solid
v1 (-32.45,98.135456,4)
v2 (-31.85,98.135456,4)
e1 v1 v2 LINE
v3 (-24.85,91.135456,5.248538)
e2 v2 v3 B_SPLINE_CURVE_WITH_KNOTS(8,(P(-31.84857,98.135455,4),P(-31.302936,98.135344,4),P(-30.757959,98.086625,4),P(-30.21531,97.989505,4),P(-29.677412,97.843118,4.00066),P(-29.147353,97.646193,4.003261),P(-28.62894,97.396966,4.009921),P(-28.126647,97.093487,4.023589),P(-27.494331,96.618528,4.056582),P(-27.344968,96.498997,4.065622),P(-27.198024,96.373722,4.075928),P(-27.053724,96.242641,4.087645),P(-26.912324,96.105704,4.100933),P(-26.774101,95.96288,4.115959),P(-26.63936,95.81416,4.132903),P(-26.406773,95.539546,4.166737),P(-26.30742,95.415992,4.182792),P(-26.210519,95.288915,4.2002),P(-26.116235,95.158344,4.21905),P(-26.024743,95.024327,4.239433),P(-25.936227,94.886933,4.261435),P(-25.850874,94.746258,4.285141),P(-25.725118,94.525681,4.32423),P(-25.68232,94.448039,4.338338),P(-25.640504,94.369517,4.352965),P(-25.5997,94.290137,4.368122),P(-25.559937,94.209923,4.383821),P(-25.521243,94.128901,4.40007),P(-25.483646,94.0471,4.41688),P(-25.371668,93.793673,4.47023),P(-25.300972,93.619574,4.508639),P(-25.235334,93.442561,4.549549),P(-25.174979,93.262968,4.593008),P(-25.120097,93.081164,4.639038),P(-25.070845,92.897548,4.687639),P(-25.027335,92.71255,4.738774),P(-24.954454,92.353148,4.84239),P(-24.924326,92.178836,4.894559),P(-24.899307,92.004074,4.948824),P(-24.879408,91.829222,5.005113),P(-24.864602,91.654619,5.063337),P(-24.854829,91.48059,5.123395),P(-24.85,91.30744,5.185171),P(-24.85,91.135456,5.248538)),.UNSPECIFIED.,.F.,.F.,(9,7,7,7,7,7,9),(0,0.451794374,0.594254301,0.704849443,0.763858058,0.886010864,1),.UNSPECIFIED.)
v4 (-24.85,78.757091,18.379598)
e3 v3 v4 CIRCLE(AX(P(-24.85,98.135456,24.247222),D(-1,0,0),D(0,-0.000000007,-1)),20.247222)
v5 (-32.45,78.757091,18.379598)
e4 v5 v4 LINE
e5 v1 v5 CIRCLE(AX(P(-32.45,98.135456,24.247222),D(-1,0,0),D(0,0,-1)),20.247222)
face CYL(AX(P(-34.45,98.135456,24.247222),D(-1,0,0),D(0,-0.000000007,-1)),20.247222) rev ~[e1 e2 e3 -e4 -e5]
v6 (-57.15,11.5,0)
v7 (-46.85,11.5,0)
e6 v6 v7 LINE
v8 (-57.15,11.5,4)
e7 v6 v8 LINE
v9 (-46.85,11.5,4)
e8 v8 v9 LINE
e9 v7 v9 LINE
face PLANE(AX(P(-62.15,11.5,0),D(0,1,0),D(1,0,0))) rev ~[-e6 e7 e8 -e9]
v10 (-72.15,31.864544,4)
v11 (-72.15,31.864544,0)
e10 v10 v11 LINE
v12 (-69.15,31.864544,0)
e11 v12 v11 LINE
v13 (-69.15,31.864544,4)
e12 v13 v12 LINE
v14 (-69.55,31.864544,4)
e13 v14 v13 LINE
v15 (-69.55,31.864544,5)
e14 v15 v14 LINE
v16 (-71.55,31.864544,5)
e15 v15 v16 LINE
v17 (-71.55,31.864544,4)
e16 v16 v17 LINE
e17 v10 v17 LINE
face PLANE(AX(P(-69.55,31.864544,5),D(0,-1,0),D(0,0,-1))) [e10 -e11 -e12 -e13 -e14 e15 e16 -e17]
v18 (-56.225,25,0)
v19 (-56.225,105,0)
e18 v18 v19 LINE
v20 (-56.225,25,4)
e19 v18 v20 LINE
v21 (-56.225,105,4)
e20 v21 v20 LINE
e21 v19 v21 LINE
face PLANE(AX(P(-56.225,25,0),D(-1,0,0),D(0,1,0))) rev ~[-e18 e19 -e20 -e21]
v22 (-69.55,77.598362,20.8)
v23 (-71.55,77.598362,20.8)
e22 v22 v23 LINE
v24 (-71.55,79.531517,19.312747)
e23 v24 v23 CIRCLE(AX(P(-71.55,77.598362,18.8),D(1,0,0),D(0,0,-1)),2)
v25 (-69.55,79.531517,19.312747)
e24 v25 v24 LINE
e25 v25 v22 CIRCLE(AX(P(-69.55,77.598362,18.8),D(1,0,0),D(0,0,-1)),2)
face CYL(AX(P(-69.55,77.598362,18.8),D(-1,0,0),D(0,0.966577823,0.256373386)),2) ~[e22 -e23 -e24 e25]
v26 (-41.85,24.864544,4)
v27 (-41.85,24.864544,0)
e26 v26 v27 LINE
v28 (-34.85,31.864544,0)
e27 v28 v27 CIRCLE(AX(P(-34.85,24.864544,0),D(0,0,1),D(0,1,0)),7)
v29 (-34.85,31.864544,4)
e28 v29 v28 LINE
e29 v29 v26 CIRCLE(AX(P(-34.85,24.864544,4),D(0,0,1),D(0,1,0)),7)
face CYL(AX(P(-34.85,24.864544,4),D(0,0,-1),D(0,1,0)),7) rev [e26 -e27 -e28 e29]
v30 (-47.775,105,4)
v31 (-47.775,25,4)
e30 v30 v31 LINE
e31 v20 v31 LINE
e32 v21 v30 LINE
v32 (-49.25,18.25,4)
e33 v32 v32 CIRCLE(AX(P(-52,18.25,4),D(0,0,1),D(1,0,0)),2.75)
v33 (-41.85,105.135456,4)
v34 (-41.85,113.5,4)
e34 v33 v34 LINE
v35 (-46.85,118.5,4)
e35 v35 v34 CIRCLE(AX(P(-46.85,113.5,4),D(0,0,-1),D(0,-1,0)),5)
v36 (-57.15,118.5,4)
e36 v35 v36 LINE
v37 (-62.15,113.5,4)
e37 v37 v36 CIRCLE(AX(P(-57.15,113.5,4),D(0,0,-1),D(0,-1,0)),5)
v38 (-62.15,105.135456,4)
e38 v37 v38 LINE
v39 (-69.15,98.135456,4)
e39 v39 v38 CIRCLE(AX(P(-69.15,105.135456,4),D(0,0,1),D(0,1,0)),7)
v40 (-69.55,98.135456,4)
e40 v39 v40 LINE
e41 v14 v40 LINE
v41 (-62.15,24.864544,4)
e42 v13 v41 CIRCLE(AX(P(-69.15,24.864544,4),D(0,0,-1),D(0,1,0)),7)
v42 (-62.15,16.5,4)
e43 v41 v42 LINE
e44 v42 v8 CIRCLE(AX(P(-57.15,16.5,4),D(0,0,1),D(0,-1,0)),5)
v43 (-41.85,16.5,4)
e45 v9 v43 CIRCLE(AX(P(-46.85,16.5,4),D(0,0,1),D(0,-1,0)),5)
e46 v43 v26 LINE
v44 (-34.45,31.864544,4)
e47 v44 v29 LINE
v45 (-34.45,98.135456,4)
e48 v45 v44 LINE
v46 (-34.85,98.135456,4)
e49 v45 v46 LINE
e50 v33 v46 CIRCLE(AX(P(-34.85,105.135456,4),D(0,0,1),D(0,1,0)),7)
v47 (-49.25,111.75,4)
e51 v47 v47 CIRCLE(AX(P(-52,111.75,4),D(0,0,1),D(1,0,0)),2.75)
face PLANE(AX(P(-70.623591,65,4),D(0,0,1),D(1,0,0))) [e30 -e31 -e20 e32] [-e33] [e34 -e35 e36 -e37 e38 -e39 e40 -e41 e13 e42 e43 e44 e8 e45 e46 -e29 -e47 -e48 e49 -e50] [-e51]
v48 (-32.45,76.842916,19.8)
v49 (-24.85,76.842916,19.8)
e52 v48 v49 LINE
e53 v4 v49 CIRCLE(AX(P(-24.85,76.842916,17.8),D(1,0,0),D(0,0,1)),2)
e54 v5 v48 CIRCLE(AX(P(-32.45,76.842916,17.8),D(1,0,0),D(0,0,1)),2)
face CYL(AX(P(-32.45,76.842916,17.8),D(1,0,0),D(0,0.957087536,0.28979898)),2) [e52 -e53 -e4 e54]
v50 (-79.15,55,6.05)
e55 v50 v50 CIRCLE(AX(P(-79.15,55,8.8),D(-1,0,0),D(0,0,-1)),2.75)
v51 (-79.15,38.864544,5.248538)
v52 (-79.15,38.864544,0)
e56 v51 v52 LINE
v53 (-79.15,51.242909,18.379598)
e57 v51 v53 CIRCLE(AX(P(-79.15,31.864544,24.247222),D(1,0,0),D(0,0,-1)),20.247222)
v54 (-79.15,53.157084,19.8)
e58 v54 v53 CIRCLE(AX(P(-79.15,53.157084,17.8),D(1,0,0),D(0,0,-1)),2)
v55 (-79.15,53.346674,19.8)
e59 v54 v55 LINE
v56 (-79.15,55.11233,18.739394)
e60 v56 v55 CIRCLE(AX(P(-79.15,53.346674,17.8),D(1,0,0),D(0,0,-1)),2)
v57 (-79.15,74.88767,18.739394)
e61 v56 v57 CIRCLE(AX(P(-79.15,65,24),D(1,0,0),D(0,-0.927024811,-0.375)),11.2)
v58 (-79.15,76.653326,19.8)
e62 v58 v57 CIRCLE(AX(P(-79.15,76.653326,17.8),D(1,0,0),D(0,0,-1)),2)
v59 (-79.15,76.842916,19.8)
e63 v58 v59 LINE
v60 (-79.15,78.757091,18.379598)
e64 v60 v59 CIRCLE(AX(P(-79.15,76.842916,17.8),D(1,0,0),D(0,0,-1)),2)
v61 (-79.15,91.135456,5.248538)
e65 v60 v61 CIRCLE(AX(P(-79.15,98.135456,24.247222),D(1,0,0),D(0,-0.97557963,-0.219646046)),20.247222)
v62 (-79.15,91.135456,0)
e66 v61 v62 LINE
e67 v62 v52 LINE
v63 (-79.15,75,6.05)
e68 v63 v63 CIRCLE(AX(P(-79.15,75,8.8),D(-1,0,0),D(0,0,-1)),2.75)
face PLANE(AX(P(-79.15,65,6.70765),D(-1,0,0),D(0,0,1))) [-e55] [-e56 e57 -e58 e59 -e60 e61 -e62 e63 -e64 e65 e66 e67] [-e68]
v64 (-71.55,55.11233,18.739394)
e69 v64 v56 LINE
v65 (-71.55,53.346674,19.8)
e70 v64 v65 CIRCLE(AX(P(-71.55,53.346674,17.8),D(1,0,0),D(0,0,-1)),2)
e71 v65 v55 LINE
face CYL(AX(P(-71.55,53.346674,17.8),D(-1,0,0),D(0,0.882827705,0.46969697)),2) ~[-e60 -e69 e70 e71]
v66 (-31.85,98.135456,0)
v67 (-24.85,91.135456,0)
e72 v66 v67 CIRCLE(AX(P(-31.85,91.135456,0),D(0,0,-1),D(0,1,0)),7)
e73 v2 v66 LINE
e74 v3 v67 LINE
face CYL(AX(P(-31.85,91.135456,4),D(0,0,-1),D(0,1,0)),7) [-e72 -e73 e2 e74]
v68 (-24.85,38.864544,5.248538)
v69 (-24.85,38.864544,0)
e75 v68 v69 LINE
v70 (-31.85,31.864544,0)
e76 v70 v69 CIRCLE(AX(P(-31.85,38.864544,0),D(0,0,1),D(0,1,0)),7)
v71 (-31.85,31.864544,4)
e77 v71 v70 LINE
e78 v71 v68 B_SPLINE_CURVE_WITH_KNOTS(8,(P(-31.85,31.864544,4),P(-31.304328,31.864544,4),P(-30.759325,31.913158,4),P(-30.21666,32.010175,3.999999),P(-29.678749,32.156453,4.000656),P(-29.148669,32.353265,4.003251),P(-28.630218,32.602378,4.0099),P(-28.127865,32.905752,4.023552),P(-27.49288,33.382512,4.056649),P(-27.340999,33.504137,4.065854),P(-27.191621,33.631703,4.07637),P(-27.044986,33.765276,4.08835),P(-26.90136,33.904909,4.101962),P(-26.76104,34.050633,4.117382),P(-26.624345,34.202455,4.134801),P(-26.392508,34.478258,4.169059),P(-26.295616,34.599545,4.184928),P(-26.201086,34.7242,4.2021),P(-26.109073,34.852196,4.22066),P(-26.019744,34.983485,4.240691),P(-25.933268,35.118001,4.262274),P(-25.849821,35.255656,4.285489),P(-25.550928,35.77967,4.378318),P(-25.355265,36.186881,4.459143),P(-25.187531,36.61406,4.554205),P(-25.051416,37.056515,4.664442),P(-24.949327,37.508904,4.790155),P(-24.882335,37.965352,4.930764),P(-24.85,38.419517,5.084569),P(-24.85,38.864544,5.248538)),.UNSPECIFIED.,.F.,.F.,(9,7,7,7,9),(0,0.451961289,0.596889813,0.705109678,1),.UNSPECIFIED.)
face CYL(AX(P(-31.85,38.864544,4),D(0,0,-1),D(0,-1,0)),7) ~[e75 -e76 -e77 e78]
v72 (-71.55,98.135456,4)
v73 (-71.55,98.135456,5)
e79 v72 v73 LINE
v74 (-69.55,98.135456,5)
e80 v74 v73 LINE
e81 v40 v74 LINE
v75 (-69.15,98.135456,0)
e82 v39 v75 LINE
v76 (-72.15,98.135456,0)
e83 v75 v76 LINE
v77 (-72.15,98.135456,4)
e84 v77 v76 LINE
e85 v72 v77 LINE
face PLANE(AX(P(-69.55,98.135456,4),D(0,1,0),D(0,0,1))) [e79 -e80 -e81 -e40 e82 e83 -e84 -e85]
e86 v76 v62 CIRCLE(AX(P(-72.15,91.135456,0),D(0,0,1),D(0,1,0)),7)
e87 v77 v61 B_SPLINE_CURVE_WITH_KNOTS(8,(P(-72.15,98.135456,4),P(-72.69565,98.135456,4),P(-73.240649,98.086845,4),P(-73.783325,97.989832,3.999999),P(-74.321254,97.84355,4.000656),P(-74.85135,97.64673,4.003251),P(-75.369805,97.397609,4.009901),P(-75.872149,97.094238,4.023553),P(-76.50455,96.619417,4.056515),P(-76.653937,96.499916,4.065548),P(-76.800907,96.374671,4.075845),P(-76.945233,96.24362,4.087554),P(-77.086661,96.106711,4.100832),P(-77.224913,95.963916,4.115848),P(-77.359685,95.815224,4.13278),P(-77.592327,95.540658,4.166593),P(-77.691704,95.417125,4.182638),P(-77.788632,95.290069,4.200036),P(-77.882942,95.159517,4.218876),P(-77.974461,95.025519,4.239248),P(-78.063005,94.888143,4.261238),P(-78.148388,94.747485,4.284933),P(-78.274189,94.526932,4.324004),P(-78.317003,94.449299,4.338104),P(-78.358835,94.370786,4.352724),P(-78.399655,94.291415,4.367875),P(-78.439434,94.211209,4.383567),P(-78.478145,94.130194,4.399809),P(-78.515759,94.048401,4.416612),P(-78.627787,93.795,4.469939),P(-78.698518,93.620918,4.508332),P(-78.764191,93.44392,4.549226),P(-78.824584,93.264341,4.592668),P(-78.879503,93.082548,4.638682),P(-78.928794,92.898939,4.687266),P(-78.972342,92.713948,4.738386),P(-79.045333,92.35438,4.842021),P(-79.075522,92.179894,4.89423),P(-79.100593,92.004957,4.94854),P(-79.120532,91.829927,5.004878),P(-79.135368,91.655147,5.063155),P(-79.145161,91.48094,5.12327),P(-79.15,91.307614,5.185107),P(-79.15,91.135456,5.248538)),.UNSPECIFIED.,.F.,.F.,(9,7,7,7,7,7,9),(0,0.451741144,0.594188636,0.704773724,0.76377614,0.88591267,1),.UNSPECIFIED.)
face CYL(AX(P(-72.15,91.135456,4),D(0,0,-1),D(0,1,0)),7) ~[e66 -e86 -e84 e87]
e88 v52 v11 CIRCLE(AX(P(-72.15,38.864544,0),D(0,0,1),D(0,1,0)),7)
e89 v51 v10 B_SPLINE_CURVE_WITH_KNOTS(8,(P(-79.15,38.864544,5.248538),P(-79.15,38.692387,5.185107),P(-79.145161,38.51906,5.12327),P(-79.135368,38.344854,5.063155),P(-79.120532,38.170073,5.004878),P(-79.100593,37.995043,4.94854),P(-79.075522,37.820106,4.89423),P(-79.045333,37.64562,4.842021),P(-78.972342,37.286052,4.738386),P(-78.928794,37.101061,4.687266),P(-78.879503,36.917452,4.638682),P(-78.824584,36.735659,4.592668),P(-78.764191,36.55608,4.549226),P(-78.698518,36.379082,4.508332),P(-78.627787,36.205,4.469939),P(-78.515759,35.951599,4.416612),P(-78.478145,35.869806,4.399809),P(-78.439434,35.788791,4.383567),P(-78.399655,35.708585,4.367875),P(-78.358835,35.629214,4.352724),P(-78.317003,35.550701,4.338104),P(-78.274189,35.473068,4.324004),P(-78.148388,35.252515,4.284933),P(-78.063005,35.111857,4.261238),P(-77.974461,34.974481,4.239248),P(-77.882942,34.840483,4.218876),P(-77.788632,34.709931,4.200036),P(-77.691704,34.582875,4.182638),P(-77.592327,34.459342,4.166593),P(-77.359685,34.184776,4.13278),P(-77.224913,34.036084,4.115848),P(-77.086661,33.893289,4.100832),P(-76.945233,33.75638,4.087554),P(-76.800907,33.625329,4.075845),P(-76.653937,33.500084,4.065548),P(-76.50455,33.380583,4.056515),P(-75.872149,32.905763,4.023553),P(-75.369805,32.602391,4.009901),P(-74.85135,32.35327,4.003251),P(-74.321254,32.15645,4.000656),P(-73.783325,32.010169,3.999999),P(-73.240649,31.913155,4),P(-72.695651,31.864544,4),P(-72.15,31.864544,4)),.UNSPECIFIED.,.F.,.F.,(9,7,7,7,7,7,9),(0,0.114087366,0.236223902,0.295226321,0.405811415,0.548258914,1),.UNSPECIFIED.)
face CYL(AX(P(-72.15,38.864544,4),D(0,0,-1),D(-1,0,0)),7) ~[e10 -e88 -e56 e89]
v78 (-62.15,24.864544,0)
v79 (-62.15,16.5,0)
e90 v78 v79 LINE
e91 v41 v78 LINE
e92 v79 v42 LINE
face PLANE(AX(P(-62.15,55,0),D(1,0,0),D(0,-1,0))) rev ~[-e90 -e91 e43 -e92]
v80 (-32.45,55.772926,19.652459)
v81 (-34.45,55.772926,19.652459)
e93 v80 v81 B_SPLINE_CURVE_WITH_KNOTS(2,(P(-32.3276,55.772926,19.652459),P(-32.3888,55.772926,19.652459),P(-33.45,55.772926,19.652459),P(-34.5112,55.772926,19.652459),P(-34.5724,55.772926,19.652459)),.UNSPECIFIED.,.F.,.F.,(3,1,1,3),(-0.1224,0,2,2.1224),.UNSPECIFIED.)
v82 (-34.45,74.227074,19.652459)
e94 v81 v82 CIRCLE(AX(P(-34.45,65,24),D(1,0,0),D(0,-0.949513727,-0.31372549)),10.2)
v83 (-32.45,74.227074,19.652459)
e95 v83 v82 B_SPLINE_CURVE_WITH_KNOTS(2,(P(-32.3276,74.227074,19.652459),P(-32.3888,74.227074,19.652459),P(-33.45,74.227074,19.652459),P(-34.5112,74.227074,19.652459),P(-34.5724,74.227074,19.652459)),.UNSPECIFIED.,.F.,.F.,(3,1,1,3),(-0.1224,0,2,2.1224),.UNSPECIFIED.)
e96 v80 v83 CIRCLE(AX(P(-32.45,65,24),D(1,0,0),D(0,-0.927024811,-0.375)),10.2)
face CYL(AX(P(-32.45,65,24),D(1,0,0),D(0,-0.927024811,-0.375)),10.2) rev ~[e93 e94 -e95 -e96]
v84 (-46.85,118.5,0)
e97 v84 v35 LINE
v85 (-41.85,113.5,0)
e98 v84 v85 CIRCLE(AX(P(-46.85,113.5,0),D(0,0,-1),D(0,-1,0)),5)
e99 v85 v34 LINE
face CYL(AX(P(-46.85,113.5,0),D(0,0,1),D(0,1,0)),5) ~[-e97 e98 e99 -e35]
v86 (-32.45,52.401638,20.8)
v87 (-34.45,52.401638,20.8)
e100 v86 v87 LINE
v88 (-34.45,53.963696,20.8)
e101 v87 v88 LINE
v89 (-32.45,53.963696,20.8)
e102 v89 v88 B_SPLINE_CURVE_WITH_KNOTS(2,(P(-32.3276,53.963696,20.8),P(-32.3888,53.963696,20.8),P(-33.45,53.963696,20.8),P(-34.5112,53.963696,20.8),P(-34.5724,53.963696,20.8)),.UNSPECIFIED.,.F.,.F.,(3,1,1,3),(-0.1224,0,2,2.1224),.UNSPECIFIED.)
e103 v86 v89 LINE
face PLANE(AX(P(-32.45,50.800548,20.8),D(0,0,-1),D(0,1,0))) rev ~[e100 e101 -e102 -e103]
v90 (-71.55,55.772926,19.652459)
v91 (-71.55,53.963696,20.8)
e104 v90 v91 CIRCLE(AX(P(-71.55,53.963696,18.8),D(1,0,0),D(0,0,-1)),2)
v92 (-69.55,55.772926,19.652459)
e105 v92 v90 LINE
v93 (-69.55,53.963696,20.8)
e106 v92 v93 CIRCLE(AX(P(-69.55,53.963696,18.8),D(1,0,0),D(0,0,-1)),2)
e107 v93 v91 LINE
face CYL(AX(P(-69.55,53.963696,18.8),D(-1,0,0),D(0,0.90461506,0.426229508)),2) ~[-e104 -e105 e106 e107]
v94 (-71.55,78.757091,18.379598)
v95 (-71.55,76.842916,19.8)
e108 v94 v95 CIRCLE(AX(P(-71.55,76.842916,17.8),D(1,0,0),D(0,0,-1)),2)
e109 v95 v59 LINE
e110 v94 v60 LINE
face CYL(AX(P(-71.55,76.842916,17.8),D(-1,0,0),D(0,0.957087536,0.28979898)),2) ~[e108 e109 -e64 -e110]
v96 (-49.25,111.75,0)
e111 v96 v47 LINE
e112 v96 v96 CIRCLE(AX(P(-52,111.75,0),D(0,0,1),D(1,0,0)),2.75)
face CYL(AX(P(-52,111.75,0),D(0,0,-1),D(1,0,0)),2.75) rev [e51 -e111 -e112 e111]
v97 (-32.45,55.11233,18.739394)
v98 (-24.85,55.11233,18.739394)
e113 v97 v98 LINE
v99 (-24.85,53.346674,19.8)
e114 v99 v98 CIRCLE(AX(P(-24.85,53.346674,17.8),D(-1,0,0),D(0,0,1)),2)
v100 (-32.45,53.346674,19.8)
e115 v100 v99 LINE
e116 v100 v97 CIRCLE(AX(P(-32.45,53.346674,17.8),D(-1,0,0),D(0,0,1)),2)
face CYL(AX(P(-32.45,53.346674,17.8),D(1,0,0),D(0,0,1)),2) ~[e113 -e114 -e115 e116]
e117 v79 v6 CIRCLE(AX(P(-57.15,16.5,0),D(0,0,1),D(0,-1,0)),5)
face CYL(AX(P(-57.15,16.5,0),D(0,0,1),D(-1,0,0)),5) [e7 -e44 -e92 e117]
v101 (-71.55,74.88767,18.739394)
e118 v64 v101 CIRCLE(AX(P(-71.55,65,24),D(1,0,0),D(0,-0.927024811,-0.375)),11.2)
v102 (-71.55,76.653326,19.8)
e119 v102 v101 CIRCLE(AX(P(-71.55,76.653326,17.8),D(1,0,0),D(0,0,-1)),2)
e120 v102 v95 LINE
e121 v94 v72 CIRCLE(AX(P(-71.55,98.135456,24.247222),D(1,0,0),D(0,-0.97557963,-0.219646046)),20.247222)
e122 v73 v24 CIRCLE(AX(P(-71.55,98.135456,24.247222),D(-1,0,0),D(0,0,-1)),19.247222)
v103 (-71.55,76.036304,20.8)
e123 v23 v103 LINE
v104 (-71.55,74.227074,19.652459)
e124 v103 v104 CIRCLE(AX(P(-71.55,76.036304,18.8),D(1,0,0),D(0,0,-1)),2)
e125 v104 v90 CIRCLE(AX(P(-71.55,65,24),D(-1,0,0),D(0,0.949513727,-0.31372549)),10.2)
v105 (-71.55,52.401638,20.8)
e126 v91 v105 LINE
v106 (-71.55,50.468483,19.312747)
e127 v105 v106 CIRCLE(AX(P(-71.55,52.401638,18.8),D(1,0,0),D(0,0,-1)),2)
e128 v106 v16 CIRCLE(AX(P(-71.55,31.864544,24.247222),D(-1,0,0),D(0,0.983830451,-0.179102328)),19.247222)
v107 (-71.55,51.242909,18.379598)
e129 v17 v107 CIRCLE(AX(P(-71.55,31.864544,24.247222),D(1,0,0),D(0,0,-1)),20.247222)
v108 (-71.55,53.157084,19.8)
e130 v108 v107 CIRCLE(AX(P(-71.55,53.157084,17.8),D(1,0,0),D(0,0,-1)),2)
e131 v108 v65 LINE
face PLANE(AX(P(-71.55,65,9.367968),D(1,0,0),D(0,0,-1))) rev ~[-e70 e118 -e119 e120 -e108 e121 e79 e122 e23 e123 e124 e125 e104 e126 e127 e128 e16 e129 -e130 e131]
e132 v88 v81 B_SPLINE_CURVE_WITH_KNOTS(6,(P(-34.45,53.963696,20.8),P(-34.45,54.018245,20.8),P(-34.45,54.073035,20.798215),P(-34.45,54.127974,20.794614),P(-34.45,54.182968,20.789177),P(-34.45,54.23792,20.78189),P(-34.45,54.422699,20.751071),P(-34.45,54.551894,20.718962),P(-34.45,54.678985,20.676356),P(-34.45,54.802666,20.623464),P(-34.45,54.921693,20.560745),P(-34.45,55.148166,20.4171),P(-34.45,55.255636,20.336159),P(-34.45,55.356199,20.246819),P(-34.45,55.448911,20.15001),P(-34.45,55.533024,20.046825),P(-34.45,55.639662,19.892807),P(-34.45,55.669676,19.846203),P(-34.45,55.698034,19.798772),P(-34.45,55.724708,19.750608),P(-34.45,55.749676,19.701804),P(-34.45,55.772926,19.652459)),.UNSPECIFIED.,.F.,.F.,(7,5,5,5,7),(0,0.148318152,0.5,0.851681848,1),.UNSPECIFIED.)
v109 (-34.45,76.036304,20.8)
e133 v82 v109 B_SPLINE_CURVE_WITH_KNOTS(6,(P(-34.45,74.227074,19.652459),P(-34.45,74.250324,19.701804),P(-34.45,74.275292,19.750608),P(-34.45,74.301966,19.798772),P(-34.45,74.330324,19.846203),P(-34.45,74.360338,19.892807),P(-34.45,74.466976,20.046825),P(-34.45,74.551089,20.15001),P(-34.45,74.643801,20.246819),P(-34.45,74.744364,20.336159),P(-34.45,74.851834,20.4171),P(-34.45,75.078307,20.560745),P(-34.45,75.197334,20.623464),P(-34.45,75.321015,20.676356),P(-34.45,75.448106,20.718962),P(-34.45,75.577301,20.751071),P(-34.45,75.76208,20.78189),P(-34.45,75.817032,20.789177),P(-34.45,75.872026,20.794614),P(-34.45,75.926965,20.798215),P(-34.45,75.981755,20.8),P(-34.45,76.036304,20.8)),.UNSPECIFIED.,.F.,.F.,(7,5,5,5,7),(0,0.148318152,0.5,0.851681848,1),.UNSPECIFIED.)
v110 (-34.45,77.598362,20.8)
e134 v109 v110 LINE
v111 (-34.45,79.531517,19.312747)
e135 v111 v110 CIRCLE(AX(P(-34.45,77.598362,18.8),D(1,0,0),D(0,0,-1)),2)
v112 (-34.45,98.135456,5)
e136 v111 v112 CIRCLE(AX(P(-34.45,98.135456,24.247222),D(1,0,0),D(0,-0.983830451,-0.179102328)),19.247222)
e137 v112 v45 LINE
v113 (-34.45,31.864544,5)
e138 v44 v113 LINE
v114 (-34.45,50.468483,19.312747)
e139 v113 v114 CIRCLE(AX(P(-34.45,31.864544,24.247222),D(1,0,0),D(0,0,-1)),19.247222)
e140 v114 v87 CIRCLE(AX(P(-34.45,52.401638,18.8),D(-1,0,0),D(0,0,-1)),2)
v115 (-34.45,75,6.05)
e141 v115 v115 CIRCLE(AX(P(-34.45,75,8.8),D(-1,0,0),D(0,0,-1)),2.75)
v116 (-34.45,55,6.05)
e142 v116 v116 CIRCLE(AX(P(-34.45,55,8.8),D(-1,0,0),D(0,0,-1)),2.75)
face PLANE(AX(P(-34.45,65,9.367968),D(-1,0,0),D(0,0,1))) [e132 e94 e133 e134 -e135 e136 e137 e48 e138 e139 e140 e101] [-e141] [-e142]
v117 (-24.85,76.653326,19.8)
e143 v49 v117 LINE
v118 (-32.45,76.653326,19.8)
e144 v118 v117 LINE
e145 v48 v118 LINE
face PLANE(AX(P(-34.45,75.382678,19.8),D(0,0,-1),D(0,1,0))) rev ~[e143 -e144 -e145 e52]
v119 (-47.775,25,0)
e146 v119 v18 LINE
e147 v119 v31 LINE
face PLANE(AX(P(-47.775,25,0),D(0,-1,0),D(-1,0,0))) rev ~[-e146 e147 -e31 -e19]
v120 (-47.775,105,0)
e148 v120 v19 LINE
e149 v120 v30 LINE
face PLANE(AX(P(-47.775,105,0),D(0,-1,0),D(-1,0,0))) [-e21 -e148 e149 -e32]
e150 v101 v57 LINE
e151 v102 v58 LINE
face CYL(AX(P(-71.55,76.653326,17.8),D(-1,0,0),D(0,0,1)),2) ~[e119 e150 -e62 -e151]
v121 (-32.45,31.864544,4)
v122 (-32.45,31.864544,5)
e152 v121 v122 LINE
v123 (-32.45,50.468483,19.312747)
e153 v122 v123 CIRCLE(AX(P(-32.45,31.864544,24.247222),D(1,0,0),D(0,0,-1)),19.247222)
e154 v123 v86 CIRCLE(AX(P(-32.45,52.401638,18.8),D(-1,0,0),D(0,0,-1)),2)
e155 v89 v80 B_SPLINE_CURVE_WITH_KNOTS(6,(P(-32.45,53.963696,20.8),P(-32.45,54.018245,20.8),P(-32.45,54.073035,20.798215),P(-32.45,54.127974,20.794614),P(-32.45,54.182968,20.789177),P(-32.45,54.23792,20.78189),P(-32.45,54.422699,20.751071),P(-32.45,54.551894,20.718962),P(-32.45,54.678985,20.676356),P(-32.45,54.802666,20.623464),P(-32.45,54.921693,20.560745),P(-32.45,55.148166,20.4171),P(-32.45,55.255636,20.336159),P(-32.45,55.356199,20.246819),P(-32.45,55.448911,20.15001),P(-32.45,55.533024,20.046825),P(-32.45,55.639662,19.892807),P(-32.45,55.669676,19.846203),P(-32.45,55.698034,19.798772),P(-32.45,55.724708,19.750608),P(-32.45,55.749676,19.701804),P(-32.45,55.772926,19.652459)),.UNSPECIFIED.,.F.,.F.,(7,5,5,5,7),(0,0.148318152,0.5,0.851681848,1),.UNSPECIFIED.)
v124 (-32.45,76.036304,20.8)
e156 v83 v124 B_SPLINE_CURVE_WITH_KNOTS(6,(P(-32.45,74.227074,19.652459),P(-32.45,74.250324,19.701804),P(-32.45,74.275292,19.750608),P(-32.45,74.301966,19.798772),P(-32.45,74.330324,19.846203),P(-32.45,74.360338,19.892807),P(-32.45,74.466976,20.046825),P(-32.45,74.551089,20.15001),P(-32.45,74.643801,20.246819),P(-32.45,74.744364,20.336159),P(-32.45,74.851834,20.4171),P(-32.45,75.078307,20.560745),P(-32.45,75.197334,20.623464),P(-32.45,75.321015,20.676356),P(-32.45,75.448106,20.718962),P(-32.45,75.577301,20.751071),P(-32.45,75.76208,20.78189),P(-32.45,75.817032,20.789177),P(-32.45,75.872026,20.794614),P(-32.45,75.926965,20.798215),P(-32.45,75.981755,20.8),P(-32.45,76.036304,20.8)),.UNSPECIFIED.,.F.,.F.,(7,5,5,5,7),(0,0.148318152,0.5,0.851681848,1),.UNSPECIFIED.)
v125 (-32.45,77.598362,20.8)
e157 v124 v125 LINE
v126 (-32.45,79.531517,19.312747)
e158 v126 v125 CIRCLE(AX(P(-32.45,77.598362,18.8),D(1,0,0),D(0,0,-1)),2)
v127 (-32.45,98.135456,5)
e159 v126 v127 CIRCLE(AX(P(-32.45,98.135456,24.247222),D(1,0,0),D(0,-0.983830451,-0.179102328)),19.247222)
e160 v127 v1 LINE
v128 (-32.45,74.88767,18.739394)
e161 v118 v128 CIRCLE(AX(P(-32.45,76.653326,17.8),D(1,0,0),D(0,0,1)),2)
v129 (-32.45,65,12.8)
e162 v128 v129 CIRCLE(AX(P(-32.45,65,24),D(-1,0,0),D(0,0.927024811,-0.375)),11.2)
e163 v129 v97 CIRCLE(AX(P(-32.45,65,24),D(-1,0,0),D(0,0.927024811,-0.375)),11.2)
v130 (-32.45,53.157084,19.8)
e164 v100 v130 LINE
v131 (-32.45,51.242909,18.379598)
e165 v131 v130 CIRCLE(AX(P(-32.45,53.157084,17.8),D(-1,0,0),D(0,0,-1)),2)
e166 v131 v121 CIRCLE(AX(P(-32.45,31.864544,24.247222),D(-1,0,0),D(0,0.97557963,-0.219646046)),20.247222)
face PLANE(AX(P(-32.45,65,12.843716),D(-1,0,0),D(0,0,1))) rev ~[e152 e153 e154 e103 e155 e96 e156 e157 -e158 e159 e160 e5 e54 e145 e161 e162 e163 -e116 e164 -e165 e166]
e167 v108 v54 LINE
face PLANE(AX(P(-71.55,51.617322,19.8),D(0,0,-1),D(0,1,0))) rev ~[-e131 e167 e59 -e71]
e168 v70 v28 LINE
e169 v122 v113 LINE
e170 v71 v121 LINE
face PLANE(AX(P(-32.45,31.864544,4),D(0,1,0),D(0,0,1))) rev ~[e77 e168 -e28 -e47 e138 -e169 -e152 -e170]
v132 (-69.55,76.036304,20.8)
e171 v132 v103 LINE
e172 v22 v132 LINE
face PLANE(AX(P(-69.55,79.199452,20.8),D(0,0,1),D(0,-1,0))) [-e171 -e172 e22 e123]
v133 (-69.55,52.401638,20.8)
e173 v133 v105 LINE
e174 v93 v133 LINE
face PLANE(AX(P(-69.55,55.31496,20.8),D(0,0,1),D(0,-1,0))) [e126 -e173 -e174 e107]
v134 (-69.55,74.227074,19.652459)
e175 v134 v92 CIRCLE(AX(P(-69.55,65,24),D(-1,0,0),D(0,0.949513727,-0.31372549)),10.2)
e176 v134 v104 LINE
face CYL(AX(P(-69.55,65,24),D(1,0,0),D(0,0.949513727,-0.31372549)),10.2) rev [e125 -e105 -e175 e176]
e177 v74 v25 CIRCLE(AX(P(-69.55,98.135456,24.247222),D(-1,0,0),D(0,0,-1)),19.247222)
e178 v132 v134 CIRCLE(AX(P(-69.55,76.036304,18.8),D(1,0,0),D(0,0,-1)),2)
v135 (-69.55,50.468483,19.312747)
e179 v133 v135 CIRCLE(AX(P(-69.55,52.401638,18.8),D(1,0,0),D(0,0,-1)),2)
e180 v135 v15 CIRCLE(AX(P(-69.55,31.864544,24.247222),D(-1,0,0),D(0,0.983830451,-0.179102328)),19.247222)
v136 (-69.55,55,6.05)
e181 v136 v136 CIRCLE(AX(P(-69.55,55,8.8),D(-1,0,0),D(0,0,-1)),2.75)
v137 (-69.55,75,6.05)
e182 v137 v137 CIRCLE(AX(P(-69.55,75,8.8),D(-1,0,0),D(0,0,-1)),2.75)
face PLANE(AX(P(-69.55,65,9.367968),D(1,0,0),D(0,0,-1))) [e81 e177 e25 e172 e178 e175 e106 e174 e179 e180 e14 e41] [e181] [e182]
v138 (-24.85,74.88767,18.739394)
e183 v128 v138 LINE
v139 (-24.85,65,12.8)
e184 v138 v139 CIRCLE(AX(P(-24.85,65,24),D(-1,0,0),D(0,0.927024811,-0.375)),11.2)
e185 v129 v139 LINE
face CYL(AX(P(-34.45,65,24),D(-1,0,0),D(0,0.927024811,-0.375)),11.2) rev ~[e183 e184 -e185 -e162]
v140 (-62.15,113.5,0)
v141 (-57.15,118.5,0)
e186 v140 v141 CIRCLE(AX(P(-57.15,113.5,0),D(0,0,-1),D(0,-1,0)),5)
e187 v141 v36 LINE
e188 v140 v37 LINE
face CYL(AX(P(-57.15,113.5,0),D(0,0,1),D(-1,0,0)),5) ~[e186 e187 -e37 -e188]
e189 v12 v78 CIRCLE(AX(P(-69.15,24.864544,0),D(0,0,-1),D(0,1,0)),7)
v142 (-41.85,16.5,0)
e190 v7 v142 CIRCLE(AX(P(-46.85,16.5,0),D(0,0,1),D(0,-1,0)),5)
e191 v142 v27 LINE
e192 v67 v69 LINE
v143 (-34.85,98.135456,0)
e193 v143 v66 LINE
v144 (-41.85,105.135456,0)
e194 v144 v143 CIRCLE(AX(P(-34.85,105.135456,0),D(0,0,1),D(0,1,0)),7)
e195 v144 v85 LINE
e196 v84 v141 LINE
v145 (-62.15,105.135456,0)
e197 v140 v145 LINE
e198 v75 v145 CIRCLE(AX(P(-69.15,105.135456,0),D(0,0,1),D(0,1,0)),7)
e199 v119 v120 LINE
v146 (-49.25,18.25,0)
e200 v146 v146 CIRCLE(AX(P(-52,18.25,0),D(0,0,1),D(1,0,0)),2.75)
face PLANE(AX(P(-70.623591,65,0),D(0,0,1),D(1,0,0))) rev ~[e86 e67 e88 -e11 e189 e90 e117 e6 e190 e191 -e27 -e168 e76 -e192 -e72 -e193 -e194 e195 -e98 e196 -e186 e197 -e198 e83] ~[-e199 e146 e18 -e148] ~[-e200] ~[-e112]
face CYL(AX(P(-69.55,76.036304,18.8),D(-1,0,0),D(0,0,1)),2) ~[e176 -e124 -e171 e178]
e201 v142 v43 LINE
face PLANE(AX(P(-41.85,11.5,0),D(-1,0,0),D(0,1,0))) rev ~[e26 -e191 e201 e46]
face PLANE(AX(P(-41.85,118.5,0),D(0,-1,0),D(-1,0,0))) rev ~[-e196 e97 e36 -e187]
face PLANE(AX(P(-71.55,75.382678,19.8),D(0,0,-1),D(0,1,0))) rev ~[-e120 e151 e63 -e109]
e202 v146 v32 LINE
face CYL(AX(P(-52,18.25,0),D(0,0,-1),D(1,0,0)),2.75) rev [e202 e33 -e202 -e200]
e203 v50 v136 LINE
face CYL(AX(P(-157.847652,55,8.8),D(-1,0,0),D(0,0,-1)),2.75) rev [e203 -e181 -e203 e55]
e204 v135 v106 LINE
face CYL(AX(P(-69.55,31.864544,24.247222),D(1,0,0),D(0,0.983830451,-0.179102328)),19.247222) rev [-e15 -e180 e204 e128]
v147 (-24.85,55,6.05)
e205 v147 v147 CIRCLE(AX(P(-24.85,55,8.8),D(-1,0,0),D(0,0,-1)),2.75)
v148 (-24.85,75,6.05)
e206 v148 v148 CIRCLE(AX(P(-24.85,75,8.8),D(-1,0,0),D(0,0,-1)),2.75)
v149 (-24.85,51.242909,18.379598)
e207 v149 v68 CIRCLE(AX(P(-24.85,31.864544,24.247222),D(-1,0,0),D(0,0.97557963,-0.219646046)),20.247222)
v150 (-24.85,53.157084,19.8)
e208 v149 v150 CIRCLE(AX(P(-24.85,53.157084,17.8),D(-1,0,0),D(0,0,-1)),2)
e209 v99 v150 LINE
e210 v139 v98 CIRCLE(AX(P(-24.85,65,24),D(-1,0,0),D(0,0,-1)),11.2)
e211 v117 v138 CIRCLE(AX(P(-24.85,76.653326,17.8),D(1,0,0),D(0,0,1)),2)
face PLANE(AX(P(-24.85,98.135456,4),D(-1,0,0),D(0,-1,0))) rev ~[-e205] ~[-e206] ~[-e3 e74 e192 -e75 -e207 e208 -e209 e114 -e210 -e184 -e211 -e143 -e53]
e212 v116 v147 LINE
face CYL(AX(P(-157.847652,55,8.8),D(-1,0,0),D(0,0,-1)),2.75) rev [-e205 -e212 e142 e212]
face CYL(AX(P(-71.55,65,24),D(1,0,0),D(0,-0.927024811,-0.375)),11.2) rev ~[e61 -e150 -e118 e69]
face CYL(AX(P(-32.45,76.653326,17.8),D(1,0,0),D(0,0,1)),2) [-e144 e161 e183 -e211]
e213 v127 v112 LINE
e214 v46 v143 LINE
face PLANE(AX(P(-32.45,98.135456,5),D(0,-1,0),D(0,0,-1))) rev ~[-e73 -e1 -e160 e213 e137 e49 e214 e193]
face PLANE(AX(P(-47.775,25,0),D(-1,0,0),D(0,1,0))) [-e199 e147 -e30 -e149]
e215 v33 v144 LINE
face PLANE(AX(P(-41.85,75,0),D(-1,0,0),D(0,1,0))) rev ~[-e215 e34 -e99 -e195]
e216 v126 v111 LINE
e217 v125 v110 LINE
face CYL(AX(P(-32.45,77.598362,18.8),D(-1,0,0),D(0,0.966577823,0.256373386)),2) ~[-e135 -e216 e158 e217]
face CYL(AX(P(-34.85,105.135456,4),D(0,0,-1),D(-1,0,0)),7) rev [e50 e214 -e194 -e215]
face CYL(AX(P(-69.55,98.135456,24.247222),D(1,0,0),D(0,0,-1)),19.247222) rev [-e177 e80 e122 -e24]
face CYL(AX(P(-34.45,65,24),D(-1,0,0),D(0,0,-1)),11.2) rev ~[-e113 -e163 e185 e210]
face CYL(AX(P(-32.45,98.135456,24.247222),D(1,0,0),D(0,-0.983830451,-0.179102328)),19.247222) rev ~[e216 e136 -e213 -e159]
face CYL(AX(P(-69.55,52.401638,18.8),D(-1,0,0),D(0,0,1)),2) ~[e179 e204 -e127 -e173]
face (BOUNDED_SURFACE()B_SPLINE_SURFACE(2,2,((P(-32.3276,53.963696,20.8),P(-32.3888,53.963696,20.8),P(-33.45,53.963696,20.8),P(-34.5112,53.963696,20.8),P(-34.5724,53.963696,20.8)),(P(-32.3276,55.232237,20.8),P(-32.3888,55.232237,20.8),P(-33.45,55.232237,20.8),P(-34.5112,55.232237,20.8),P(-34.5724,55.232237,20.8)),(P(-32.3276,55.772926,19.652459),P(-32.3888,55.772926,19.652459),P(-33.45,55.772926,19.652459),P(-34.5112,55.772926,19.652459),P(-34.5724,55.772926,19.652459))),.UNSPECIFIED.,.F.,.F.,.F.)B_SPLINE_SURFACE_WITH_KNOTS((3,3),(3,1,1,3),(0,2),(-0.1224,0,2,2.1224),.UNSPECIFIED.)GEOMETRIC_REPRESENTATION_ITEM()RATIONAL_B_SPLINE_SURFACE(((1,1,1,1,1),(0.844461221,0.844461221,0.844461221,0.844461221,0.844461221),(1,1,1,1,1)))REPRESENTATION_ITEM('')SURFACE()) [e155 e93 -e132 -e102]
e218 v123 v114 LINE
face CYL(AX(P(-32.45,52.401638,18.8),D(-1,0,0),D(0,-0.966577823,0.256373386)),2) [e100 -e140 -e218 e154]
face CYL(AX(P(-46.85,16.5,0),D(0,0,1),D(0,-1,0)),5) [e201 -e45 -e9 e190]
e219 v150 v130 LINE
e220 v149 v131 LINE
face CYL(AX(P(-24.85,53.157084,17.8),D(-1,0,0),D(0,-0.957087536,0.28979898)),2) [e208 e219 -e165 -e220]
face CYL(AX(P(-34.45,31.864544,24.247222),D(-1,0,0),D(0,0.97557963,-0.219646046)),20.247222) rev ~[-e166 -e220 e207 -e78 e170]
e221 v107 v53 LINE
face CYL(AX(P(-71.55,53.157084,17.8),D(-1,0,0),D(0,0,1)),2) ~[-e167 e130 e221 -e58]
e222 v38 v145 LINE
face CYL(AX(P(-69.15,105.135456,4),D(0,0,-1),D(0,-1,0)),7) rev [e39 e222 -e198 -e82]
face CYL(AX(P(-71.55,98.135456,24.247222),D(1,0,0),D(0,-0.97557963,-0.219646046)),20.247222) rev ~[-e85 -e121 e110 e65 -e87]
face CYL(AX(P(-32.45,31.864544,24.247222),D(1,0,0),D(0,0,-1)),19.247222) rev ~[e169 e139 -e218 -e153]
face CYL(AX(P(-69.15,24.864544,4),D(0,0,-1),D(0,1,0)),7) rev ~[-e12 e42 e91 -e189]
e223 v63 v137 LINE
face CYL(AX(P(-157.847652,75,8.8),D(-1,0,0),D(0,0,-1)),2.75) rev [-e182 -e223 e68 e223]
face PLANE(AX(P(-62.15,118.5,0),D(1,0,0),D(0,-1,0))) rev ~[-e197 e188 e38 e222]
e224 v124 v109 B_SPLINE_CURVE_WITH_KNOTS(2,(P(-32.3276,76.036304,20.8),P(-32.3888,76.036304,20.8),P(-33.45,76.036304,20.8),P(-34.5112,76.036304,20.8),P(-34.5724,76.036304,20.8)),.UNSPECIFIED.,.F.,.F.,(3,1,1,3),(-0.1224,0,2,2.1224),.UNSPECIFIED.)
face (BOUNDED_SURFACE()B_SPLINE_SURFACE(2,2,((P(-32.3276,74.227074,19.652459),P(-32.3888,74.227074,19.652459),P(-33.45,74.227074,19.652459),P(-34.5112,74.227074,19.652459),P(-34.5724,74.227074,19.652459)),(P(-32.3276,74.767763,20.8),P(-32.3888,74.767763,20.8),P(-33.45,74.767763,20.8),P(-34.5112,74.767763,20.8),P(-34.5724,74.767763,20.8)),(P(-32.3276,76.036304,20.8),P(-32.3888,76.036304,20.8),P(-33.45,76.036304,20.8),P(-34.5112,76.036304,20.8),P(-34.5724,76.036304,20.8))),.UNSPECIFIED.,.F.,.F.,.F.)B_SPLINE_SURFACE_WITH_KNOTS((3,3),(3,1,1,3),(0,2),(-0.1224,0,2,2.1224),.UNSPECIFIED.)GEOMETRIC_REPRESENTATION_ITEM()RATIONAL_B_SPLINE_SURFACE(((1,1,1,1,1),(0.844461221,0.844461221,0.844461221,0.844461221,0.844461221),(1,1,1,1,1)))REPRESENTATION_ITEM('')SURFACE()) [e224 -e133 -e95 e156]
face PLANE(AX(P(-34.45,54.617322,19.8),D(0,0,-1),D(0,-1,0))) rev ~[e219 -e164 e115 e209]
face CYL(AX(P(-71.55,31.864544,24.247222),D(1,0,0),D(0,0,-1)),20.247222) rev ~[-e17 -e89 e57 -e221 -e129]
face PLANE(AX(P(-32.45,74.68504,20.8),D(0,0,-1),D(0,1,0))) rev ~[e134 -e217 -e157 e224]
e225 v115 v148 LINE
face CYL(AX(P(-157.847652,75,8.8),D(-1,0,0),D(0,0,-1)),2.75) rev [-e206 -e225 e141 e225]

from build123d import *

# Parameters (mm, degrees)
SKETCH1_R               = 2.75
BOSS_EXTRUDE1_DEPTH     = 4
FILLET1_R               = 5
BOSS_EXTRUDE3_DEPTH     = 9.6
BOSS_EXTRUDE4_DEPTH     = 10
BOSS_EXTRUDE5_DEPTH     = 4
BOSS_EXTRUDE6_START     = -12
BOSS_EXTRUDE6_DEPTH     = 12
CUT_EXTRUDE1_START      = -10
CUT_EXTRUDE1_DEPTH      = 10
BOSS_EXTRUDE7_DEPTH     = 4
BOSS_EXTRUDE8_START     = -7.6
BOSS_EXTRUDE8_DEPTH     = 7.6
BOSS_EXTRUDE9_START     = 2
BOSS_EXTRUDE9_DEPTH     = 2
FILLET2_R               = 7
SKETCH15_W              = 8.45
SKETCH15_H              = 80
CUT_EXTRUDE2_DEPTH      = 14
FILLET3_R               = 2
CUT_EXTRUDE4_DEPTH      = 132.997651535
CUT_EXTRUDE4_DEPTH_BACK = 132.997651535
SKETCH17_R              = 2.75


with BuildPart() as part:
    # Sketch1 → Boss-Extrude1 (new body)
    with BuildSketch(Plane.XY):
        Polygon((-62.15, 75), (-69.55, 75), (-69.55, 65.75), (-62.15, 65.75), (-62.15, 64.25), (-69.55, 64.25), (-69.55, 55), (-62.15, 55), (-62.15, 11.5), (-41.85, 11.5), (-41.85, 55), (-34.45, 55), (-34.45, 64.25), (-41.85, 64.25), (-41.85, 65.75), (-34.45, 65.75), (-34.45, 75), (-41.85, 75), (-41.85, 118.5), (-62.15, 118.5), align=None)
        with Locations((-52, 111.75)):
            Circle(SKETCH1_R, mode=Mode.SUBTRACT)
        with Locations((-52, 18.25)):
            Circle(SKETCH1_R, mode=Mode.SUBTRACT)
    extrude(amount=BOSS_EXTRUDE1_DEPTH)

    # Fillet1
    fillet1_edges = [part.edges().sort_by_distance(p)[0] for p in [
        (-62.15, 118.5, 2),
        (-41.85, 118.5, 2),
        (-41.85, 11.5, 2),
        (-62.15, 11.5, 2),
    ]]
    fillet(fillet1_edges, radius=FILLET1_R)



with BuildPart() as body_2:
    # Sketch3 → Boss-Extrude3 (new body)
    with BuildSketch(Plane(origin=(-34.45, 0, 0), x_dir=(0, 0, -1), z_dir=(1, 0, 0))):
        with BuildLine():
            Line((-12.8, 65), (-4, 65))
            Line((-4, 65), (-4, 65.75))
            Line((-4, 65.75), (-4, 75))
            Line((-4, 75), (-4, 98.135455405))
            ThreePointArc((-4, 98.135455405), (-8.435930345, 85.488200598), (-19.8, 78.382677882))
            Line((-19.8, 78.382677882), (-19.8, 75.382677882))
            ThreePointArc((-19.8, 75.382677882), (-14.713450587, 71.260990337), (-12.8, 65))
        make_face()
        with BuildLine():
            Line((-4, 31.864544449), (-4, 65))
            Line((-4, 65), (-12.8, 65))
            ThreePointArc((-12.8, 65), (-14.713450587, 58.739009663), (-19.8, 54.617322118))
            Line((-19.8, 54.617322118), (-19.8, 51.617322118))
            ThreePointArc((-19.8, 51.617322118), (-8.435930299, 44.511799345), (-4, 31.864544449))
        make_face()
    extrude(amount=BOSS_EXTRUDE3_DEPTH)


with BuildPart() as part_1:
    add(part.part)

    add(body_2.part)  # Boss-Extrude4 merges body 2
    # Sketch5 → Boss-Extrude4 (add)
    with BuildSketch(Plane.ZY.offset(34.45)):
        with BuildLine():
            Line((4, 98.135455551), (4, 31.864544449))
            ThreePointArc((4, 31.864544449), (8.435930299, 44.511799345), (19.8, 51.617322118))
            Line((19.8, 51.617322118), (19.8, 54.617322118))
            ThreePointArc((19.8, 54.617322118), (12.8, 65), (19.8, 75.382677882))
            Line((19.8, 75.382677882), (19.8, 78.382677882))
            ThreePointArc((19.8, 78.382677882), (8.435930299, 85.488200655), (4, 98.135455551))
        make_face()
    extrude(amount=BOSS_EXTRUDE4_DEPTH)

    # Sketch6 → Boss-Extrude5 (add)
    with BuildSketch(Plane(origin=(0, 0, 4), x_dir=(-1, 0, 0), z_dir=(0, 0, -1))):
        Polygon((24.85, 31.864544449), (41.85, 31.864544449), (41.85, 55), (34.45, 55), (34.45, 64.25), (41.85, 64.25), (41.85, 65.75), (34.45, 65.75), (34.45, 75), (41.85, 75), (41.85, 98.135455551), (24.85, 98.135455551), align=None)
    extrude(amount=BOSS_EXTRUDE5_DEPTH)

    # Sketch9 → Boss-Extrude6 (add)
    with BuildSketch(Plane.ZY.offset(44.45).offset(BOSS_EXTRUDE6_START)):
        with BuildLine():
            Line((4, 31.864544449), (5, 31.864544449))
            ThreePointArc((5, 31.864544449), (9.468774813, 44.195523989), (20.8, 50.800547872))
            Line((20.8, 50.800547872), (20.8, 55.31495999))
            ThreePointArc((20.8, 55.31495999), (20.485627959, 55.424552796), (20.175, 55.544346929))
            ThreePointArc((20.175, 55.544346929), (13.8, 65), (20.175, 74.455653071))
            ThreePointArc((20.175, 74.455653071), (20.485627959, 74.575447204), (20.8, 74.68504001))
            Line((20.8, 74.68504001), (20.8, 79.199452128))
            ThreePointArc((20.8, 79.199452128), (9.468774813, 85.804476011), (5, 98.135455551))
            Line((5, 98.135455551), (4, 98.135455551))
            ThreePointArc((4, 98.135455551), (8.435930299, 85.488200655), (19.8, 78.382677882))
            Line((19.8, 78.382677882), (19.8, 75.382677882))
            ThreePointArc((19.8, 75.382677882), (12.8, 65), (19.8, 54.617322118))
            Line((19.8, 54.617322118), (19.8, 51.617322118))
            ThreePointArc((19.8, 51.617322118), (8.435930299, 44.511799345), (4, 31.864544449))
        make_face()
    extrude(amount=BOSS_EXTRUDE6_DEPTH)

    # Sketch10 → Cut-Extrude1 (cut)
    with BuildSketch(Plane.ZY.offset(44.45).offset(CUT_EXTRUDE1_START)):
        with BuildLine():
            Line((4, 98.135455551), (4, 31.864544449))
            Line((4, 31.864544449), (5, 31.864544449))
            ThreePointArc((5, 31.864544449), (9.468774813, 44.195523989), (20.8, 50.800547872))
            Line((20.8, 50.800547872), (20.8, 55.31495999))
            ThreePointArc((20.8, 55.31495999), (13.8, 65), (20.8, 74.68504001))
            Line((20.8, 74.68504001), (20.8, 79.199452128))
            ThreePointArc((20.8, 79.199452128), (9.468774813, 85.804476011), (5, 98.135455551))
            Line((5, 98.135455551), (4, 98.135455551))
        make_face()
    extrude(amount=CUT_EXTRUDE1_DEPTH, mode=Mode.SUBTRACT)

    # Sketch12 → Boss-Extrude7 (add)
    with BuildSketch(Plane.XY.offset(4)):
        Polygon((-79.15, 31.864544449), (-62.15, 31.864544449), (-62.15, 55), (-69.55, 55), (-69.55, 64.25), (-62.15, 64.25), (-62.15, 65.75), (-69.55, 65.75), (-69.55, 75), (-62.15, 75), (-62.15, 98.135455551), (-79.15, 98.135455551), align=None)
    extrude(amount=-BOSS_EXTRUDE7_DEPTH)

    # Sketch13 → Boss-Extrude8 (add)
    with BuildSketch(Plane.ZY.offset(79.15).offset(BOSS_EXTRUDE8_START)):
        with BuildLine():
            Line((19.8, 75.382677882), (19.8, 78.382677882))
            ThreePointArc((19.8, 78.382677882), (8.435930299, 85.488200655), (4, 98.135455551))
            Line((4, 98.135455551), (0, 98.135455551))
            Line((0, 98.135455551), (0, 31.864544449))
            Line((0, 31.864544449), (4, 31.864544449))
            ThreePointArc((4, 31.864544449), (8.435930299, 44.511799345), (19.8, 51.617322118))
            Line((19.8, 51.617322118), (19.8, 54.617322118))
            ThreePointArc((19.8, 54.617322118), (12.8, 65), (19.8, 75.382677882))
        make_face()
    extrude(amount=BOSS_EXTRUDE8_DEPTH)

    # Sketch14 → Boss-Extrude9 (add)
    with BuildSketch(Plane(origin=(-71.55, 0, 0), x_dir=(0, 0, -1), z_dir=(1, 0, 0)).offset(BOSS_EXTRUDE9_START)):
        with BuildLine():
            Line((-4, 98.135455551), (-5, 98.135455551))
            ThreePointArc((-5, 98.135455551), (-9.468774813, 85.804476011), (-20.8, 79.199452128))
            Line((-20.8, 79.199452128), (-20.8, 74.68504001))
            ThreePointArc((-20.8, 74.68504001), (-13.8, 65), (-20.8, 55.31495999))
            Line((-20.8, 55.31495999), (-20.8, 50.800547872))
            ThreePointArc((-20.8, 50.800547872), (-9.468774813, 44.195523989), (-5, 31.864544449))
            Line((-5, 31.864544449), (-4, 31.864544449))
            Line((-4, 31.864544449), (-4, 98.135455551))
        make_face()
    extrude(amount=-BOSS_EXTRUDE9_DEPTH)

    # Fillet2
    fillet2_edges = [part_1.edges().sort_by_distance(p)[0] for p in [
        (-24.85, 98.135455551, 2),
        (-24.85, 31.864544449, 2),
        (-41.85, 31.864544449, 2),
        (-41.85, 98.135455551, 2),
        (-79.15, 31.864544449, 2),
        (-79.15, 98.135455551, 2),
        (-62.15, 98.135455551, 2),
        (-62.15, 31.864544449, 2),
    ]]
    fillet(fillet2_edges, radius=FILLET2_R)

    # Sketch15 → Cut-Extrude2 (cut)
    with BuildSketch(Plane(origin=(0, 0, 0), x_dir=(-1, 0, 0), z_dir=(0, 0, -1))):
        with Locations((52, 65)):
            Rectangle(SKETCH15_W, SKETCH15_H)
    extrude(amount=-CUT_EXTRUDE2_DEPTH, mode=Mode.SUBTRACT)

    # Fillet3
    fillet3_edges = [part_1.edges().sort_by_distance(p)[0] for p in [
        (-28.65, 75.382677882, 19.8),
        (-28.65, 78.382677882, 19.8),
        (-28.65, 54.617322118, 19.8),
        (-28.65, 51.617322118, 19.8),
        (-33.45, 50.800547872, 20.8),
        (-33.45, 79.199452128, 20.8),
        (-33.45, 74.68504001, 20.8),
        (-33.45, 55.31495999, 20.8),
        (-75.35, 78.382677882, 19.8),
        (-75.35, 75.382677882, 19.8),
        (-75.35, 54.617322118, 19.8),
        (-75.35, 51.617322118, 19.8),
        (-70.55, 79.199452128, 20.8),
        (-70.55, 74.68504001, 20.8),
        (-70.55, 55.31495999, 20.8),
        (-70.55, 50.800547872, 20.8),
    ]]
    fillet(fillet3_edges, radius=FILLET3_R)

    # Sketch17 → Cut-Extrude4 (cut, two sides: drawn at the far end of the back side and taken through both)
    with BuildSketch(Plane(origin=(-24.85, 0, 0), x_dir=(0, 0, -1), z_dir=(1, 0, 0)).offset(-CUT_EXTRUDE4_DEPTH_BACK)):
        with Locations((-8.8, 75)):
            Circle(SKETCH17_R)
        with Locations((-8.8, 55)):
            Circle(SKETCH17_R)
    extrude(amount=CUT_EXTRUDE4_DEPTH + CUT_EXTRUDE4_DEPTH_BACK, mode=Mode.SUBTRACT)


solid = part_1.part
